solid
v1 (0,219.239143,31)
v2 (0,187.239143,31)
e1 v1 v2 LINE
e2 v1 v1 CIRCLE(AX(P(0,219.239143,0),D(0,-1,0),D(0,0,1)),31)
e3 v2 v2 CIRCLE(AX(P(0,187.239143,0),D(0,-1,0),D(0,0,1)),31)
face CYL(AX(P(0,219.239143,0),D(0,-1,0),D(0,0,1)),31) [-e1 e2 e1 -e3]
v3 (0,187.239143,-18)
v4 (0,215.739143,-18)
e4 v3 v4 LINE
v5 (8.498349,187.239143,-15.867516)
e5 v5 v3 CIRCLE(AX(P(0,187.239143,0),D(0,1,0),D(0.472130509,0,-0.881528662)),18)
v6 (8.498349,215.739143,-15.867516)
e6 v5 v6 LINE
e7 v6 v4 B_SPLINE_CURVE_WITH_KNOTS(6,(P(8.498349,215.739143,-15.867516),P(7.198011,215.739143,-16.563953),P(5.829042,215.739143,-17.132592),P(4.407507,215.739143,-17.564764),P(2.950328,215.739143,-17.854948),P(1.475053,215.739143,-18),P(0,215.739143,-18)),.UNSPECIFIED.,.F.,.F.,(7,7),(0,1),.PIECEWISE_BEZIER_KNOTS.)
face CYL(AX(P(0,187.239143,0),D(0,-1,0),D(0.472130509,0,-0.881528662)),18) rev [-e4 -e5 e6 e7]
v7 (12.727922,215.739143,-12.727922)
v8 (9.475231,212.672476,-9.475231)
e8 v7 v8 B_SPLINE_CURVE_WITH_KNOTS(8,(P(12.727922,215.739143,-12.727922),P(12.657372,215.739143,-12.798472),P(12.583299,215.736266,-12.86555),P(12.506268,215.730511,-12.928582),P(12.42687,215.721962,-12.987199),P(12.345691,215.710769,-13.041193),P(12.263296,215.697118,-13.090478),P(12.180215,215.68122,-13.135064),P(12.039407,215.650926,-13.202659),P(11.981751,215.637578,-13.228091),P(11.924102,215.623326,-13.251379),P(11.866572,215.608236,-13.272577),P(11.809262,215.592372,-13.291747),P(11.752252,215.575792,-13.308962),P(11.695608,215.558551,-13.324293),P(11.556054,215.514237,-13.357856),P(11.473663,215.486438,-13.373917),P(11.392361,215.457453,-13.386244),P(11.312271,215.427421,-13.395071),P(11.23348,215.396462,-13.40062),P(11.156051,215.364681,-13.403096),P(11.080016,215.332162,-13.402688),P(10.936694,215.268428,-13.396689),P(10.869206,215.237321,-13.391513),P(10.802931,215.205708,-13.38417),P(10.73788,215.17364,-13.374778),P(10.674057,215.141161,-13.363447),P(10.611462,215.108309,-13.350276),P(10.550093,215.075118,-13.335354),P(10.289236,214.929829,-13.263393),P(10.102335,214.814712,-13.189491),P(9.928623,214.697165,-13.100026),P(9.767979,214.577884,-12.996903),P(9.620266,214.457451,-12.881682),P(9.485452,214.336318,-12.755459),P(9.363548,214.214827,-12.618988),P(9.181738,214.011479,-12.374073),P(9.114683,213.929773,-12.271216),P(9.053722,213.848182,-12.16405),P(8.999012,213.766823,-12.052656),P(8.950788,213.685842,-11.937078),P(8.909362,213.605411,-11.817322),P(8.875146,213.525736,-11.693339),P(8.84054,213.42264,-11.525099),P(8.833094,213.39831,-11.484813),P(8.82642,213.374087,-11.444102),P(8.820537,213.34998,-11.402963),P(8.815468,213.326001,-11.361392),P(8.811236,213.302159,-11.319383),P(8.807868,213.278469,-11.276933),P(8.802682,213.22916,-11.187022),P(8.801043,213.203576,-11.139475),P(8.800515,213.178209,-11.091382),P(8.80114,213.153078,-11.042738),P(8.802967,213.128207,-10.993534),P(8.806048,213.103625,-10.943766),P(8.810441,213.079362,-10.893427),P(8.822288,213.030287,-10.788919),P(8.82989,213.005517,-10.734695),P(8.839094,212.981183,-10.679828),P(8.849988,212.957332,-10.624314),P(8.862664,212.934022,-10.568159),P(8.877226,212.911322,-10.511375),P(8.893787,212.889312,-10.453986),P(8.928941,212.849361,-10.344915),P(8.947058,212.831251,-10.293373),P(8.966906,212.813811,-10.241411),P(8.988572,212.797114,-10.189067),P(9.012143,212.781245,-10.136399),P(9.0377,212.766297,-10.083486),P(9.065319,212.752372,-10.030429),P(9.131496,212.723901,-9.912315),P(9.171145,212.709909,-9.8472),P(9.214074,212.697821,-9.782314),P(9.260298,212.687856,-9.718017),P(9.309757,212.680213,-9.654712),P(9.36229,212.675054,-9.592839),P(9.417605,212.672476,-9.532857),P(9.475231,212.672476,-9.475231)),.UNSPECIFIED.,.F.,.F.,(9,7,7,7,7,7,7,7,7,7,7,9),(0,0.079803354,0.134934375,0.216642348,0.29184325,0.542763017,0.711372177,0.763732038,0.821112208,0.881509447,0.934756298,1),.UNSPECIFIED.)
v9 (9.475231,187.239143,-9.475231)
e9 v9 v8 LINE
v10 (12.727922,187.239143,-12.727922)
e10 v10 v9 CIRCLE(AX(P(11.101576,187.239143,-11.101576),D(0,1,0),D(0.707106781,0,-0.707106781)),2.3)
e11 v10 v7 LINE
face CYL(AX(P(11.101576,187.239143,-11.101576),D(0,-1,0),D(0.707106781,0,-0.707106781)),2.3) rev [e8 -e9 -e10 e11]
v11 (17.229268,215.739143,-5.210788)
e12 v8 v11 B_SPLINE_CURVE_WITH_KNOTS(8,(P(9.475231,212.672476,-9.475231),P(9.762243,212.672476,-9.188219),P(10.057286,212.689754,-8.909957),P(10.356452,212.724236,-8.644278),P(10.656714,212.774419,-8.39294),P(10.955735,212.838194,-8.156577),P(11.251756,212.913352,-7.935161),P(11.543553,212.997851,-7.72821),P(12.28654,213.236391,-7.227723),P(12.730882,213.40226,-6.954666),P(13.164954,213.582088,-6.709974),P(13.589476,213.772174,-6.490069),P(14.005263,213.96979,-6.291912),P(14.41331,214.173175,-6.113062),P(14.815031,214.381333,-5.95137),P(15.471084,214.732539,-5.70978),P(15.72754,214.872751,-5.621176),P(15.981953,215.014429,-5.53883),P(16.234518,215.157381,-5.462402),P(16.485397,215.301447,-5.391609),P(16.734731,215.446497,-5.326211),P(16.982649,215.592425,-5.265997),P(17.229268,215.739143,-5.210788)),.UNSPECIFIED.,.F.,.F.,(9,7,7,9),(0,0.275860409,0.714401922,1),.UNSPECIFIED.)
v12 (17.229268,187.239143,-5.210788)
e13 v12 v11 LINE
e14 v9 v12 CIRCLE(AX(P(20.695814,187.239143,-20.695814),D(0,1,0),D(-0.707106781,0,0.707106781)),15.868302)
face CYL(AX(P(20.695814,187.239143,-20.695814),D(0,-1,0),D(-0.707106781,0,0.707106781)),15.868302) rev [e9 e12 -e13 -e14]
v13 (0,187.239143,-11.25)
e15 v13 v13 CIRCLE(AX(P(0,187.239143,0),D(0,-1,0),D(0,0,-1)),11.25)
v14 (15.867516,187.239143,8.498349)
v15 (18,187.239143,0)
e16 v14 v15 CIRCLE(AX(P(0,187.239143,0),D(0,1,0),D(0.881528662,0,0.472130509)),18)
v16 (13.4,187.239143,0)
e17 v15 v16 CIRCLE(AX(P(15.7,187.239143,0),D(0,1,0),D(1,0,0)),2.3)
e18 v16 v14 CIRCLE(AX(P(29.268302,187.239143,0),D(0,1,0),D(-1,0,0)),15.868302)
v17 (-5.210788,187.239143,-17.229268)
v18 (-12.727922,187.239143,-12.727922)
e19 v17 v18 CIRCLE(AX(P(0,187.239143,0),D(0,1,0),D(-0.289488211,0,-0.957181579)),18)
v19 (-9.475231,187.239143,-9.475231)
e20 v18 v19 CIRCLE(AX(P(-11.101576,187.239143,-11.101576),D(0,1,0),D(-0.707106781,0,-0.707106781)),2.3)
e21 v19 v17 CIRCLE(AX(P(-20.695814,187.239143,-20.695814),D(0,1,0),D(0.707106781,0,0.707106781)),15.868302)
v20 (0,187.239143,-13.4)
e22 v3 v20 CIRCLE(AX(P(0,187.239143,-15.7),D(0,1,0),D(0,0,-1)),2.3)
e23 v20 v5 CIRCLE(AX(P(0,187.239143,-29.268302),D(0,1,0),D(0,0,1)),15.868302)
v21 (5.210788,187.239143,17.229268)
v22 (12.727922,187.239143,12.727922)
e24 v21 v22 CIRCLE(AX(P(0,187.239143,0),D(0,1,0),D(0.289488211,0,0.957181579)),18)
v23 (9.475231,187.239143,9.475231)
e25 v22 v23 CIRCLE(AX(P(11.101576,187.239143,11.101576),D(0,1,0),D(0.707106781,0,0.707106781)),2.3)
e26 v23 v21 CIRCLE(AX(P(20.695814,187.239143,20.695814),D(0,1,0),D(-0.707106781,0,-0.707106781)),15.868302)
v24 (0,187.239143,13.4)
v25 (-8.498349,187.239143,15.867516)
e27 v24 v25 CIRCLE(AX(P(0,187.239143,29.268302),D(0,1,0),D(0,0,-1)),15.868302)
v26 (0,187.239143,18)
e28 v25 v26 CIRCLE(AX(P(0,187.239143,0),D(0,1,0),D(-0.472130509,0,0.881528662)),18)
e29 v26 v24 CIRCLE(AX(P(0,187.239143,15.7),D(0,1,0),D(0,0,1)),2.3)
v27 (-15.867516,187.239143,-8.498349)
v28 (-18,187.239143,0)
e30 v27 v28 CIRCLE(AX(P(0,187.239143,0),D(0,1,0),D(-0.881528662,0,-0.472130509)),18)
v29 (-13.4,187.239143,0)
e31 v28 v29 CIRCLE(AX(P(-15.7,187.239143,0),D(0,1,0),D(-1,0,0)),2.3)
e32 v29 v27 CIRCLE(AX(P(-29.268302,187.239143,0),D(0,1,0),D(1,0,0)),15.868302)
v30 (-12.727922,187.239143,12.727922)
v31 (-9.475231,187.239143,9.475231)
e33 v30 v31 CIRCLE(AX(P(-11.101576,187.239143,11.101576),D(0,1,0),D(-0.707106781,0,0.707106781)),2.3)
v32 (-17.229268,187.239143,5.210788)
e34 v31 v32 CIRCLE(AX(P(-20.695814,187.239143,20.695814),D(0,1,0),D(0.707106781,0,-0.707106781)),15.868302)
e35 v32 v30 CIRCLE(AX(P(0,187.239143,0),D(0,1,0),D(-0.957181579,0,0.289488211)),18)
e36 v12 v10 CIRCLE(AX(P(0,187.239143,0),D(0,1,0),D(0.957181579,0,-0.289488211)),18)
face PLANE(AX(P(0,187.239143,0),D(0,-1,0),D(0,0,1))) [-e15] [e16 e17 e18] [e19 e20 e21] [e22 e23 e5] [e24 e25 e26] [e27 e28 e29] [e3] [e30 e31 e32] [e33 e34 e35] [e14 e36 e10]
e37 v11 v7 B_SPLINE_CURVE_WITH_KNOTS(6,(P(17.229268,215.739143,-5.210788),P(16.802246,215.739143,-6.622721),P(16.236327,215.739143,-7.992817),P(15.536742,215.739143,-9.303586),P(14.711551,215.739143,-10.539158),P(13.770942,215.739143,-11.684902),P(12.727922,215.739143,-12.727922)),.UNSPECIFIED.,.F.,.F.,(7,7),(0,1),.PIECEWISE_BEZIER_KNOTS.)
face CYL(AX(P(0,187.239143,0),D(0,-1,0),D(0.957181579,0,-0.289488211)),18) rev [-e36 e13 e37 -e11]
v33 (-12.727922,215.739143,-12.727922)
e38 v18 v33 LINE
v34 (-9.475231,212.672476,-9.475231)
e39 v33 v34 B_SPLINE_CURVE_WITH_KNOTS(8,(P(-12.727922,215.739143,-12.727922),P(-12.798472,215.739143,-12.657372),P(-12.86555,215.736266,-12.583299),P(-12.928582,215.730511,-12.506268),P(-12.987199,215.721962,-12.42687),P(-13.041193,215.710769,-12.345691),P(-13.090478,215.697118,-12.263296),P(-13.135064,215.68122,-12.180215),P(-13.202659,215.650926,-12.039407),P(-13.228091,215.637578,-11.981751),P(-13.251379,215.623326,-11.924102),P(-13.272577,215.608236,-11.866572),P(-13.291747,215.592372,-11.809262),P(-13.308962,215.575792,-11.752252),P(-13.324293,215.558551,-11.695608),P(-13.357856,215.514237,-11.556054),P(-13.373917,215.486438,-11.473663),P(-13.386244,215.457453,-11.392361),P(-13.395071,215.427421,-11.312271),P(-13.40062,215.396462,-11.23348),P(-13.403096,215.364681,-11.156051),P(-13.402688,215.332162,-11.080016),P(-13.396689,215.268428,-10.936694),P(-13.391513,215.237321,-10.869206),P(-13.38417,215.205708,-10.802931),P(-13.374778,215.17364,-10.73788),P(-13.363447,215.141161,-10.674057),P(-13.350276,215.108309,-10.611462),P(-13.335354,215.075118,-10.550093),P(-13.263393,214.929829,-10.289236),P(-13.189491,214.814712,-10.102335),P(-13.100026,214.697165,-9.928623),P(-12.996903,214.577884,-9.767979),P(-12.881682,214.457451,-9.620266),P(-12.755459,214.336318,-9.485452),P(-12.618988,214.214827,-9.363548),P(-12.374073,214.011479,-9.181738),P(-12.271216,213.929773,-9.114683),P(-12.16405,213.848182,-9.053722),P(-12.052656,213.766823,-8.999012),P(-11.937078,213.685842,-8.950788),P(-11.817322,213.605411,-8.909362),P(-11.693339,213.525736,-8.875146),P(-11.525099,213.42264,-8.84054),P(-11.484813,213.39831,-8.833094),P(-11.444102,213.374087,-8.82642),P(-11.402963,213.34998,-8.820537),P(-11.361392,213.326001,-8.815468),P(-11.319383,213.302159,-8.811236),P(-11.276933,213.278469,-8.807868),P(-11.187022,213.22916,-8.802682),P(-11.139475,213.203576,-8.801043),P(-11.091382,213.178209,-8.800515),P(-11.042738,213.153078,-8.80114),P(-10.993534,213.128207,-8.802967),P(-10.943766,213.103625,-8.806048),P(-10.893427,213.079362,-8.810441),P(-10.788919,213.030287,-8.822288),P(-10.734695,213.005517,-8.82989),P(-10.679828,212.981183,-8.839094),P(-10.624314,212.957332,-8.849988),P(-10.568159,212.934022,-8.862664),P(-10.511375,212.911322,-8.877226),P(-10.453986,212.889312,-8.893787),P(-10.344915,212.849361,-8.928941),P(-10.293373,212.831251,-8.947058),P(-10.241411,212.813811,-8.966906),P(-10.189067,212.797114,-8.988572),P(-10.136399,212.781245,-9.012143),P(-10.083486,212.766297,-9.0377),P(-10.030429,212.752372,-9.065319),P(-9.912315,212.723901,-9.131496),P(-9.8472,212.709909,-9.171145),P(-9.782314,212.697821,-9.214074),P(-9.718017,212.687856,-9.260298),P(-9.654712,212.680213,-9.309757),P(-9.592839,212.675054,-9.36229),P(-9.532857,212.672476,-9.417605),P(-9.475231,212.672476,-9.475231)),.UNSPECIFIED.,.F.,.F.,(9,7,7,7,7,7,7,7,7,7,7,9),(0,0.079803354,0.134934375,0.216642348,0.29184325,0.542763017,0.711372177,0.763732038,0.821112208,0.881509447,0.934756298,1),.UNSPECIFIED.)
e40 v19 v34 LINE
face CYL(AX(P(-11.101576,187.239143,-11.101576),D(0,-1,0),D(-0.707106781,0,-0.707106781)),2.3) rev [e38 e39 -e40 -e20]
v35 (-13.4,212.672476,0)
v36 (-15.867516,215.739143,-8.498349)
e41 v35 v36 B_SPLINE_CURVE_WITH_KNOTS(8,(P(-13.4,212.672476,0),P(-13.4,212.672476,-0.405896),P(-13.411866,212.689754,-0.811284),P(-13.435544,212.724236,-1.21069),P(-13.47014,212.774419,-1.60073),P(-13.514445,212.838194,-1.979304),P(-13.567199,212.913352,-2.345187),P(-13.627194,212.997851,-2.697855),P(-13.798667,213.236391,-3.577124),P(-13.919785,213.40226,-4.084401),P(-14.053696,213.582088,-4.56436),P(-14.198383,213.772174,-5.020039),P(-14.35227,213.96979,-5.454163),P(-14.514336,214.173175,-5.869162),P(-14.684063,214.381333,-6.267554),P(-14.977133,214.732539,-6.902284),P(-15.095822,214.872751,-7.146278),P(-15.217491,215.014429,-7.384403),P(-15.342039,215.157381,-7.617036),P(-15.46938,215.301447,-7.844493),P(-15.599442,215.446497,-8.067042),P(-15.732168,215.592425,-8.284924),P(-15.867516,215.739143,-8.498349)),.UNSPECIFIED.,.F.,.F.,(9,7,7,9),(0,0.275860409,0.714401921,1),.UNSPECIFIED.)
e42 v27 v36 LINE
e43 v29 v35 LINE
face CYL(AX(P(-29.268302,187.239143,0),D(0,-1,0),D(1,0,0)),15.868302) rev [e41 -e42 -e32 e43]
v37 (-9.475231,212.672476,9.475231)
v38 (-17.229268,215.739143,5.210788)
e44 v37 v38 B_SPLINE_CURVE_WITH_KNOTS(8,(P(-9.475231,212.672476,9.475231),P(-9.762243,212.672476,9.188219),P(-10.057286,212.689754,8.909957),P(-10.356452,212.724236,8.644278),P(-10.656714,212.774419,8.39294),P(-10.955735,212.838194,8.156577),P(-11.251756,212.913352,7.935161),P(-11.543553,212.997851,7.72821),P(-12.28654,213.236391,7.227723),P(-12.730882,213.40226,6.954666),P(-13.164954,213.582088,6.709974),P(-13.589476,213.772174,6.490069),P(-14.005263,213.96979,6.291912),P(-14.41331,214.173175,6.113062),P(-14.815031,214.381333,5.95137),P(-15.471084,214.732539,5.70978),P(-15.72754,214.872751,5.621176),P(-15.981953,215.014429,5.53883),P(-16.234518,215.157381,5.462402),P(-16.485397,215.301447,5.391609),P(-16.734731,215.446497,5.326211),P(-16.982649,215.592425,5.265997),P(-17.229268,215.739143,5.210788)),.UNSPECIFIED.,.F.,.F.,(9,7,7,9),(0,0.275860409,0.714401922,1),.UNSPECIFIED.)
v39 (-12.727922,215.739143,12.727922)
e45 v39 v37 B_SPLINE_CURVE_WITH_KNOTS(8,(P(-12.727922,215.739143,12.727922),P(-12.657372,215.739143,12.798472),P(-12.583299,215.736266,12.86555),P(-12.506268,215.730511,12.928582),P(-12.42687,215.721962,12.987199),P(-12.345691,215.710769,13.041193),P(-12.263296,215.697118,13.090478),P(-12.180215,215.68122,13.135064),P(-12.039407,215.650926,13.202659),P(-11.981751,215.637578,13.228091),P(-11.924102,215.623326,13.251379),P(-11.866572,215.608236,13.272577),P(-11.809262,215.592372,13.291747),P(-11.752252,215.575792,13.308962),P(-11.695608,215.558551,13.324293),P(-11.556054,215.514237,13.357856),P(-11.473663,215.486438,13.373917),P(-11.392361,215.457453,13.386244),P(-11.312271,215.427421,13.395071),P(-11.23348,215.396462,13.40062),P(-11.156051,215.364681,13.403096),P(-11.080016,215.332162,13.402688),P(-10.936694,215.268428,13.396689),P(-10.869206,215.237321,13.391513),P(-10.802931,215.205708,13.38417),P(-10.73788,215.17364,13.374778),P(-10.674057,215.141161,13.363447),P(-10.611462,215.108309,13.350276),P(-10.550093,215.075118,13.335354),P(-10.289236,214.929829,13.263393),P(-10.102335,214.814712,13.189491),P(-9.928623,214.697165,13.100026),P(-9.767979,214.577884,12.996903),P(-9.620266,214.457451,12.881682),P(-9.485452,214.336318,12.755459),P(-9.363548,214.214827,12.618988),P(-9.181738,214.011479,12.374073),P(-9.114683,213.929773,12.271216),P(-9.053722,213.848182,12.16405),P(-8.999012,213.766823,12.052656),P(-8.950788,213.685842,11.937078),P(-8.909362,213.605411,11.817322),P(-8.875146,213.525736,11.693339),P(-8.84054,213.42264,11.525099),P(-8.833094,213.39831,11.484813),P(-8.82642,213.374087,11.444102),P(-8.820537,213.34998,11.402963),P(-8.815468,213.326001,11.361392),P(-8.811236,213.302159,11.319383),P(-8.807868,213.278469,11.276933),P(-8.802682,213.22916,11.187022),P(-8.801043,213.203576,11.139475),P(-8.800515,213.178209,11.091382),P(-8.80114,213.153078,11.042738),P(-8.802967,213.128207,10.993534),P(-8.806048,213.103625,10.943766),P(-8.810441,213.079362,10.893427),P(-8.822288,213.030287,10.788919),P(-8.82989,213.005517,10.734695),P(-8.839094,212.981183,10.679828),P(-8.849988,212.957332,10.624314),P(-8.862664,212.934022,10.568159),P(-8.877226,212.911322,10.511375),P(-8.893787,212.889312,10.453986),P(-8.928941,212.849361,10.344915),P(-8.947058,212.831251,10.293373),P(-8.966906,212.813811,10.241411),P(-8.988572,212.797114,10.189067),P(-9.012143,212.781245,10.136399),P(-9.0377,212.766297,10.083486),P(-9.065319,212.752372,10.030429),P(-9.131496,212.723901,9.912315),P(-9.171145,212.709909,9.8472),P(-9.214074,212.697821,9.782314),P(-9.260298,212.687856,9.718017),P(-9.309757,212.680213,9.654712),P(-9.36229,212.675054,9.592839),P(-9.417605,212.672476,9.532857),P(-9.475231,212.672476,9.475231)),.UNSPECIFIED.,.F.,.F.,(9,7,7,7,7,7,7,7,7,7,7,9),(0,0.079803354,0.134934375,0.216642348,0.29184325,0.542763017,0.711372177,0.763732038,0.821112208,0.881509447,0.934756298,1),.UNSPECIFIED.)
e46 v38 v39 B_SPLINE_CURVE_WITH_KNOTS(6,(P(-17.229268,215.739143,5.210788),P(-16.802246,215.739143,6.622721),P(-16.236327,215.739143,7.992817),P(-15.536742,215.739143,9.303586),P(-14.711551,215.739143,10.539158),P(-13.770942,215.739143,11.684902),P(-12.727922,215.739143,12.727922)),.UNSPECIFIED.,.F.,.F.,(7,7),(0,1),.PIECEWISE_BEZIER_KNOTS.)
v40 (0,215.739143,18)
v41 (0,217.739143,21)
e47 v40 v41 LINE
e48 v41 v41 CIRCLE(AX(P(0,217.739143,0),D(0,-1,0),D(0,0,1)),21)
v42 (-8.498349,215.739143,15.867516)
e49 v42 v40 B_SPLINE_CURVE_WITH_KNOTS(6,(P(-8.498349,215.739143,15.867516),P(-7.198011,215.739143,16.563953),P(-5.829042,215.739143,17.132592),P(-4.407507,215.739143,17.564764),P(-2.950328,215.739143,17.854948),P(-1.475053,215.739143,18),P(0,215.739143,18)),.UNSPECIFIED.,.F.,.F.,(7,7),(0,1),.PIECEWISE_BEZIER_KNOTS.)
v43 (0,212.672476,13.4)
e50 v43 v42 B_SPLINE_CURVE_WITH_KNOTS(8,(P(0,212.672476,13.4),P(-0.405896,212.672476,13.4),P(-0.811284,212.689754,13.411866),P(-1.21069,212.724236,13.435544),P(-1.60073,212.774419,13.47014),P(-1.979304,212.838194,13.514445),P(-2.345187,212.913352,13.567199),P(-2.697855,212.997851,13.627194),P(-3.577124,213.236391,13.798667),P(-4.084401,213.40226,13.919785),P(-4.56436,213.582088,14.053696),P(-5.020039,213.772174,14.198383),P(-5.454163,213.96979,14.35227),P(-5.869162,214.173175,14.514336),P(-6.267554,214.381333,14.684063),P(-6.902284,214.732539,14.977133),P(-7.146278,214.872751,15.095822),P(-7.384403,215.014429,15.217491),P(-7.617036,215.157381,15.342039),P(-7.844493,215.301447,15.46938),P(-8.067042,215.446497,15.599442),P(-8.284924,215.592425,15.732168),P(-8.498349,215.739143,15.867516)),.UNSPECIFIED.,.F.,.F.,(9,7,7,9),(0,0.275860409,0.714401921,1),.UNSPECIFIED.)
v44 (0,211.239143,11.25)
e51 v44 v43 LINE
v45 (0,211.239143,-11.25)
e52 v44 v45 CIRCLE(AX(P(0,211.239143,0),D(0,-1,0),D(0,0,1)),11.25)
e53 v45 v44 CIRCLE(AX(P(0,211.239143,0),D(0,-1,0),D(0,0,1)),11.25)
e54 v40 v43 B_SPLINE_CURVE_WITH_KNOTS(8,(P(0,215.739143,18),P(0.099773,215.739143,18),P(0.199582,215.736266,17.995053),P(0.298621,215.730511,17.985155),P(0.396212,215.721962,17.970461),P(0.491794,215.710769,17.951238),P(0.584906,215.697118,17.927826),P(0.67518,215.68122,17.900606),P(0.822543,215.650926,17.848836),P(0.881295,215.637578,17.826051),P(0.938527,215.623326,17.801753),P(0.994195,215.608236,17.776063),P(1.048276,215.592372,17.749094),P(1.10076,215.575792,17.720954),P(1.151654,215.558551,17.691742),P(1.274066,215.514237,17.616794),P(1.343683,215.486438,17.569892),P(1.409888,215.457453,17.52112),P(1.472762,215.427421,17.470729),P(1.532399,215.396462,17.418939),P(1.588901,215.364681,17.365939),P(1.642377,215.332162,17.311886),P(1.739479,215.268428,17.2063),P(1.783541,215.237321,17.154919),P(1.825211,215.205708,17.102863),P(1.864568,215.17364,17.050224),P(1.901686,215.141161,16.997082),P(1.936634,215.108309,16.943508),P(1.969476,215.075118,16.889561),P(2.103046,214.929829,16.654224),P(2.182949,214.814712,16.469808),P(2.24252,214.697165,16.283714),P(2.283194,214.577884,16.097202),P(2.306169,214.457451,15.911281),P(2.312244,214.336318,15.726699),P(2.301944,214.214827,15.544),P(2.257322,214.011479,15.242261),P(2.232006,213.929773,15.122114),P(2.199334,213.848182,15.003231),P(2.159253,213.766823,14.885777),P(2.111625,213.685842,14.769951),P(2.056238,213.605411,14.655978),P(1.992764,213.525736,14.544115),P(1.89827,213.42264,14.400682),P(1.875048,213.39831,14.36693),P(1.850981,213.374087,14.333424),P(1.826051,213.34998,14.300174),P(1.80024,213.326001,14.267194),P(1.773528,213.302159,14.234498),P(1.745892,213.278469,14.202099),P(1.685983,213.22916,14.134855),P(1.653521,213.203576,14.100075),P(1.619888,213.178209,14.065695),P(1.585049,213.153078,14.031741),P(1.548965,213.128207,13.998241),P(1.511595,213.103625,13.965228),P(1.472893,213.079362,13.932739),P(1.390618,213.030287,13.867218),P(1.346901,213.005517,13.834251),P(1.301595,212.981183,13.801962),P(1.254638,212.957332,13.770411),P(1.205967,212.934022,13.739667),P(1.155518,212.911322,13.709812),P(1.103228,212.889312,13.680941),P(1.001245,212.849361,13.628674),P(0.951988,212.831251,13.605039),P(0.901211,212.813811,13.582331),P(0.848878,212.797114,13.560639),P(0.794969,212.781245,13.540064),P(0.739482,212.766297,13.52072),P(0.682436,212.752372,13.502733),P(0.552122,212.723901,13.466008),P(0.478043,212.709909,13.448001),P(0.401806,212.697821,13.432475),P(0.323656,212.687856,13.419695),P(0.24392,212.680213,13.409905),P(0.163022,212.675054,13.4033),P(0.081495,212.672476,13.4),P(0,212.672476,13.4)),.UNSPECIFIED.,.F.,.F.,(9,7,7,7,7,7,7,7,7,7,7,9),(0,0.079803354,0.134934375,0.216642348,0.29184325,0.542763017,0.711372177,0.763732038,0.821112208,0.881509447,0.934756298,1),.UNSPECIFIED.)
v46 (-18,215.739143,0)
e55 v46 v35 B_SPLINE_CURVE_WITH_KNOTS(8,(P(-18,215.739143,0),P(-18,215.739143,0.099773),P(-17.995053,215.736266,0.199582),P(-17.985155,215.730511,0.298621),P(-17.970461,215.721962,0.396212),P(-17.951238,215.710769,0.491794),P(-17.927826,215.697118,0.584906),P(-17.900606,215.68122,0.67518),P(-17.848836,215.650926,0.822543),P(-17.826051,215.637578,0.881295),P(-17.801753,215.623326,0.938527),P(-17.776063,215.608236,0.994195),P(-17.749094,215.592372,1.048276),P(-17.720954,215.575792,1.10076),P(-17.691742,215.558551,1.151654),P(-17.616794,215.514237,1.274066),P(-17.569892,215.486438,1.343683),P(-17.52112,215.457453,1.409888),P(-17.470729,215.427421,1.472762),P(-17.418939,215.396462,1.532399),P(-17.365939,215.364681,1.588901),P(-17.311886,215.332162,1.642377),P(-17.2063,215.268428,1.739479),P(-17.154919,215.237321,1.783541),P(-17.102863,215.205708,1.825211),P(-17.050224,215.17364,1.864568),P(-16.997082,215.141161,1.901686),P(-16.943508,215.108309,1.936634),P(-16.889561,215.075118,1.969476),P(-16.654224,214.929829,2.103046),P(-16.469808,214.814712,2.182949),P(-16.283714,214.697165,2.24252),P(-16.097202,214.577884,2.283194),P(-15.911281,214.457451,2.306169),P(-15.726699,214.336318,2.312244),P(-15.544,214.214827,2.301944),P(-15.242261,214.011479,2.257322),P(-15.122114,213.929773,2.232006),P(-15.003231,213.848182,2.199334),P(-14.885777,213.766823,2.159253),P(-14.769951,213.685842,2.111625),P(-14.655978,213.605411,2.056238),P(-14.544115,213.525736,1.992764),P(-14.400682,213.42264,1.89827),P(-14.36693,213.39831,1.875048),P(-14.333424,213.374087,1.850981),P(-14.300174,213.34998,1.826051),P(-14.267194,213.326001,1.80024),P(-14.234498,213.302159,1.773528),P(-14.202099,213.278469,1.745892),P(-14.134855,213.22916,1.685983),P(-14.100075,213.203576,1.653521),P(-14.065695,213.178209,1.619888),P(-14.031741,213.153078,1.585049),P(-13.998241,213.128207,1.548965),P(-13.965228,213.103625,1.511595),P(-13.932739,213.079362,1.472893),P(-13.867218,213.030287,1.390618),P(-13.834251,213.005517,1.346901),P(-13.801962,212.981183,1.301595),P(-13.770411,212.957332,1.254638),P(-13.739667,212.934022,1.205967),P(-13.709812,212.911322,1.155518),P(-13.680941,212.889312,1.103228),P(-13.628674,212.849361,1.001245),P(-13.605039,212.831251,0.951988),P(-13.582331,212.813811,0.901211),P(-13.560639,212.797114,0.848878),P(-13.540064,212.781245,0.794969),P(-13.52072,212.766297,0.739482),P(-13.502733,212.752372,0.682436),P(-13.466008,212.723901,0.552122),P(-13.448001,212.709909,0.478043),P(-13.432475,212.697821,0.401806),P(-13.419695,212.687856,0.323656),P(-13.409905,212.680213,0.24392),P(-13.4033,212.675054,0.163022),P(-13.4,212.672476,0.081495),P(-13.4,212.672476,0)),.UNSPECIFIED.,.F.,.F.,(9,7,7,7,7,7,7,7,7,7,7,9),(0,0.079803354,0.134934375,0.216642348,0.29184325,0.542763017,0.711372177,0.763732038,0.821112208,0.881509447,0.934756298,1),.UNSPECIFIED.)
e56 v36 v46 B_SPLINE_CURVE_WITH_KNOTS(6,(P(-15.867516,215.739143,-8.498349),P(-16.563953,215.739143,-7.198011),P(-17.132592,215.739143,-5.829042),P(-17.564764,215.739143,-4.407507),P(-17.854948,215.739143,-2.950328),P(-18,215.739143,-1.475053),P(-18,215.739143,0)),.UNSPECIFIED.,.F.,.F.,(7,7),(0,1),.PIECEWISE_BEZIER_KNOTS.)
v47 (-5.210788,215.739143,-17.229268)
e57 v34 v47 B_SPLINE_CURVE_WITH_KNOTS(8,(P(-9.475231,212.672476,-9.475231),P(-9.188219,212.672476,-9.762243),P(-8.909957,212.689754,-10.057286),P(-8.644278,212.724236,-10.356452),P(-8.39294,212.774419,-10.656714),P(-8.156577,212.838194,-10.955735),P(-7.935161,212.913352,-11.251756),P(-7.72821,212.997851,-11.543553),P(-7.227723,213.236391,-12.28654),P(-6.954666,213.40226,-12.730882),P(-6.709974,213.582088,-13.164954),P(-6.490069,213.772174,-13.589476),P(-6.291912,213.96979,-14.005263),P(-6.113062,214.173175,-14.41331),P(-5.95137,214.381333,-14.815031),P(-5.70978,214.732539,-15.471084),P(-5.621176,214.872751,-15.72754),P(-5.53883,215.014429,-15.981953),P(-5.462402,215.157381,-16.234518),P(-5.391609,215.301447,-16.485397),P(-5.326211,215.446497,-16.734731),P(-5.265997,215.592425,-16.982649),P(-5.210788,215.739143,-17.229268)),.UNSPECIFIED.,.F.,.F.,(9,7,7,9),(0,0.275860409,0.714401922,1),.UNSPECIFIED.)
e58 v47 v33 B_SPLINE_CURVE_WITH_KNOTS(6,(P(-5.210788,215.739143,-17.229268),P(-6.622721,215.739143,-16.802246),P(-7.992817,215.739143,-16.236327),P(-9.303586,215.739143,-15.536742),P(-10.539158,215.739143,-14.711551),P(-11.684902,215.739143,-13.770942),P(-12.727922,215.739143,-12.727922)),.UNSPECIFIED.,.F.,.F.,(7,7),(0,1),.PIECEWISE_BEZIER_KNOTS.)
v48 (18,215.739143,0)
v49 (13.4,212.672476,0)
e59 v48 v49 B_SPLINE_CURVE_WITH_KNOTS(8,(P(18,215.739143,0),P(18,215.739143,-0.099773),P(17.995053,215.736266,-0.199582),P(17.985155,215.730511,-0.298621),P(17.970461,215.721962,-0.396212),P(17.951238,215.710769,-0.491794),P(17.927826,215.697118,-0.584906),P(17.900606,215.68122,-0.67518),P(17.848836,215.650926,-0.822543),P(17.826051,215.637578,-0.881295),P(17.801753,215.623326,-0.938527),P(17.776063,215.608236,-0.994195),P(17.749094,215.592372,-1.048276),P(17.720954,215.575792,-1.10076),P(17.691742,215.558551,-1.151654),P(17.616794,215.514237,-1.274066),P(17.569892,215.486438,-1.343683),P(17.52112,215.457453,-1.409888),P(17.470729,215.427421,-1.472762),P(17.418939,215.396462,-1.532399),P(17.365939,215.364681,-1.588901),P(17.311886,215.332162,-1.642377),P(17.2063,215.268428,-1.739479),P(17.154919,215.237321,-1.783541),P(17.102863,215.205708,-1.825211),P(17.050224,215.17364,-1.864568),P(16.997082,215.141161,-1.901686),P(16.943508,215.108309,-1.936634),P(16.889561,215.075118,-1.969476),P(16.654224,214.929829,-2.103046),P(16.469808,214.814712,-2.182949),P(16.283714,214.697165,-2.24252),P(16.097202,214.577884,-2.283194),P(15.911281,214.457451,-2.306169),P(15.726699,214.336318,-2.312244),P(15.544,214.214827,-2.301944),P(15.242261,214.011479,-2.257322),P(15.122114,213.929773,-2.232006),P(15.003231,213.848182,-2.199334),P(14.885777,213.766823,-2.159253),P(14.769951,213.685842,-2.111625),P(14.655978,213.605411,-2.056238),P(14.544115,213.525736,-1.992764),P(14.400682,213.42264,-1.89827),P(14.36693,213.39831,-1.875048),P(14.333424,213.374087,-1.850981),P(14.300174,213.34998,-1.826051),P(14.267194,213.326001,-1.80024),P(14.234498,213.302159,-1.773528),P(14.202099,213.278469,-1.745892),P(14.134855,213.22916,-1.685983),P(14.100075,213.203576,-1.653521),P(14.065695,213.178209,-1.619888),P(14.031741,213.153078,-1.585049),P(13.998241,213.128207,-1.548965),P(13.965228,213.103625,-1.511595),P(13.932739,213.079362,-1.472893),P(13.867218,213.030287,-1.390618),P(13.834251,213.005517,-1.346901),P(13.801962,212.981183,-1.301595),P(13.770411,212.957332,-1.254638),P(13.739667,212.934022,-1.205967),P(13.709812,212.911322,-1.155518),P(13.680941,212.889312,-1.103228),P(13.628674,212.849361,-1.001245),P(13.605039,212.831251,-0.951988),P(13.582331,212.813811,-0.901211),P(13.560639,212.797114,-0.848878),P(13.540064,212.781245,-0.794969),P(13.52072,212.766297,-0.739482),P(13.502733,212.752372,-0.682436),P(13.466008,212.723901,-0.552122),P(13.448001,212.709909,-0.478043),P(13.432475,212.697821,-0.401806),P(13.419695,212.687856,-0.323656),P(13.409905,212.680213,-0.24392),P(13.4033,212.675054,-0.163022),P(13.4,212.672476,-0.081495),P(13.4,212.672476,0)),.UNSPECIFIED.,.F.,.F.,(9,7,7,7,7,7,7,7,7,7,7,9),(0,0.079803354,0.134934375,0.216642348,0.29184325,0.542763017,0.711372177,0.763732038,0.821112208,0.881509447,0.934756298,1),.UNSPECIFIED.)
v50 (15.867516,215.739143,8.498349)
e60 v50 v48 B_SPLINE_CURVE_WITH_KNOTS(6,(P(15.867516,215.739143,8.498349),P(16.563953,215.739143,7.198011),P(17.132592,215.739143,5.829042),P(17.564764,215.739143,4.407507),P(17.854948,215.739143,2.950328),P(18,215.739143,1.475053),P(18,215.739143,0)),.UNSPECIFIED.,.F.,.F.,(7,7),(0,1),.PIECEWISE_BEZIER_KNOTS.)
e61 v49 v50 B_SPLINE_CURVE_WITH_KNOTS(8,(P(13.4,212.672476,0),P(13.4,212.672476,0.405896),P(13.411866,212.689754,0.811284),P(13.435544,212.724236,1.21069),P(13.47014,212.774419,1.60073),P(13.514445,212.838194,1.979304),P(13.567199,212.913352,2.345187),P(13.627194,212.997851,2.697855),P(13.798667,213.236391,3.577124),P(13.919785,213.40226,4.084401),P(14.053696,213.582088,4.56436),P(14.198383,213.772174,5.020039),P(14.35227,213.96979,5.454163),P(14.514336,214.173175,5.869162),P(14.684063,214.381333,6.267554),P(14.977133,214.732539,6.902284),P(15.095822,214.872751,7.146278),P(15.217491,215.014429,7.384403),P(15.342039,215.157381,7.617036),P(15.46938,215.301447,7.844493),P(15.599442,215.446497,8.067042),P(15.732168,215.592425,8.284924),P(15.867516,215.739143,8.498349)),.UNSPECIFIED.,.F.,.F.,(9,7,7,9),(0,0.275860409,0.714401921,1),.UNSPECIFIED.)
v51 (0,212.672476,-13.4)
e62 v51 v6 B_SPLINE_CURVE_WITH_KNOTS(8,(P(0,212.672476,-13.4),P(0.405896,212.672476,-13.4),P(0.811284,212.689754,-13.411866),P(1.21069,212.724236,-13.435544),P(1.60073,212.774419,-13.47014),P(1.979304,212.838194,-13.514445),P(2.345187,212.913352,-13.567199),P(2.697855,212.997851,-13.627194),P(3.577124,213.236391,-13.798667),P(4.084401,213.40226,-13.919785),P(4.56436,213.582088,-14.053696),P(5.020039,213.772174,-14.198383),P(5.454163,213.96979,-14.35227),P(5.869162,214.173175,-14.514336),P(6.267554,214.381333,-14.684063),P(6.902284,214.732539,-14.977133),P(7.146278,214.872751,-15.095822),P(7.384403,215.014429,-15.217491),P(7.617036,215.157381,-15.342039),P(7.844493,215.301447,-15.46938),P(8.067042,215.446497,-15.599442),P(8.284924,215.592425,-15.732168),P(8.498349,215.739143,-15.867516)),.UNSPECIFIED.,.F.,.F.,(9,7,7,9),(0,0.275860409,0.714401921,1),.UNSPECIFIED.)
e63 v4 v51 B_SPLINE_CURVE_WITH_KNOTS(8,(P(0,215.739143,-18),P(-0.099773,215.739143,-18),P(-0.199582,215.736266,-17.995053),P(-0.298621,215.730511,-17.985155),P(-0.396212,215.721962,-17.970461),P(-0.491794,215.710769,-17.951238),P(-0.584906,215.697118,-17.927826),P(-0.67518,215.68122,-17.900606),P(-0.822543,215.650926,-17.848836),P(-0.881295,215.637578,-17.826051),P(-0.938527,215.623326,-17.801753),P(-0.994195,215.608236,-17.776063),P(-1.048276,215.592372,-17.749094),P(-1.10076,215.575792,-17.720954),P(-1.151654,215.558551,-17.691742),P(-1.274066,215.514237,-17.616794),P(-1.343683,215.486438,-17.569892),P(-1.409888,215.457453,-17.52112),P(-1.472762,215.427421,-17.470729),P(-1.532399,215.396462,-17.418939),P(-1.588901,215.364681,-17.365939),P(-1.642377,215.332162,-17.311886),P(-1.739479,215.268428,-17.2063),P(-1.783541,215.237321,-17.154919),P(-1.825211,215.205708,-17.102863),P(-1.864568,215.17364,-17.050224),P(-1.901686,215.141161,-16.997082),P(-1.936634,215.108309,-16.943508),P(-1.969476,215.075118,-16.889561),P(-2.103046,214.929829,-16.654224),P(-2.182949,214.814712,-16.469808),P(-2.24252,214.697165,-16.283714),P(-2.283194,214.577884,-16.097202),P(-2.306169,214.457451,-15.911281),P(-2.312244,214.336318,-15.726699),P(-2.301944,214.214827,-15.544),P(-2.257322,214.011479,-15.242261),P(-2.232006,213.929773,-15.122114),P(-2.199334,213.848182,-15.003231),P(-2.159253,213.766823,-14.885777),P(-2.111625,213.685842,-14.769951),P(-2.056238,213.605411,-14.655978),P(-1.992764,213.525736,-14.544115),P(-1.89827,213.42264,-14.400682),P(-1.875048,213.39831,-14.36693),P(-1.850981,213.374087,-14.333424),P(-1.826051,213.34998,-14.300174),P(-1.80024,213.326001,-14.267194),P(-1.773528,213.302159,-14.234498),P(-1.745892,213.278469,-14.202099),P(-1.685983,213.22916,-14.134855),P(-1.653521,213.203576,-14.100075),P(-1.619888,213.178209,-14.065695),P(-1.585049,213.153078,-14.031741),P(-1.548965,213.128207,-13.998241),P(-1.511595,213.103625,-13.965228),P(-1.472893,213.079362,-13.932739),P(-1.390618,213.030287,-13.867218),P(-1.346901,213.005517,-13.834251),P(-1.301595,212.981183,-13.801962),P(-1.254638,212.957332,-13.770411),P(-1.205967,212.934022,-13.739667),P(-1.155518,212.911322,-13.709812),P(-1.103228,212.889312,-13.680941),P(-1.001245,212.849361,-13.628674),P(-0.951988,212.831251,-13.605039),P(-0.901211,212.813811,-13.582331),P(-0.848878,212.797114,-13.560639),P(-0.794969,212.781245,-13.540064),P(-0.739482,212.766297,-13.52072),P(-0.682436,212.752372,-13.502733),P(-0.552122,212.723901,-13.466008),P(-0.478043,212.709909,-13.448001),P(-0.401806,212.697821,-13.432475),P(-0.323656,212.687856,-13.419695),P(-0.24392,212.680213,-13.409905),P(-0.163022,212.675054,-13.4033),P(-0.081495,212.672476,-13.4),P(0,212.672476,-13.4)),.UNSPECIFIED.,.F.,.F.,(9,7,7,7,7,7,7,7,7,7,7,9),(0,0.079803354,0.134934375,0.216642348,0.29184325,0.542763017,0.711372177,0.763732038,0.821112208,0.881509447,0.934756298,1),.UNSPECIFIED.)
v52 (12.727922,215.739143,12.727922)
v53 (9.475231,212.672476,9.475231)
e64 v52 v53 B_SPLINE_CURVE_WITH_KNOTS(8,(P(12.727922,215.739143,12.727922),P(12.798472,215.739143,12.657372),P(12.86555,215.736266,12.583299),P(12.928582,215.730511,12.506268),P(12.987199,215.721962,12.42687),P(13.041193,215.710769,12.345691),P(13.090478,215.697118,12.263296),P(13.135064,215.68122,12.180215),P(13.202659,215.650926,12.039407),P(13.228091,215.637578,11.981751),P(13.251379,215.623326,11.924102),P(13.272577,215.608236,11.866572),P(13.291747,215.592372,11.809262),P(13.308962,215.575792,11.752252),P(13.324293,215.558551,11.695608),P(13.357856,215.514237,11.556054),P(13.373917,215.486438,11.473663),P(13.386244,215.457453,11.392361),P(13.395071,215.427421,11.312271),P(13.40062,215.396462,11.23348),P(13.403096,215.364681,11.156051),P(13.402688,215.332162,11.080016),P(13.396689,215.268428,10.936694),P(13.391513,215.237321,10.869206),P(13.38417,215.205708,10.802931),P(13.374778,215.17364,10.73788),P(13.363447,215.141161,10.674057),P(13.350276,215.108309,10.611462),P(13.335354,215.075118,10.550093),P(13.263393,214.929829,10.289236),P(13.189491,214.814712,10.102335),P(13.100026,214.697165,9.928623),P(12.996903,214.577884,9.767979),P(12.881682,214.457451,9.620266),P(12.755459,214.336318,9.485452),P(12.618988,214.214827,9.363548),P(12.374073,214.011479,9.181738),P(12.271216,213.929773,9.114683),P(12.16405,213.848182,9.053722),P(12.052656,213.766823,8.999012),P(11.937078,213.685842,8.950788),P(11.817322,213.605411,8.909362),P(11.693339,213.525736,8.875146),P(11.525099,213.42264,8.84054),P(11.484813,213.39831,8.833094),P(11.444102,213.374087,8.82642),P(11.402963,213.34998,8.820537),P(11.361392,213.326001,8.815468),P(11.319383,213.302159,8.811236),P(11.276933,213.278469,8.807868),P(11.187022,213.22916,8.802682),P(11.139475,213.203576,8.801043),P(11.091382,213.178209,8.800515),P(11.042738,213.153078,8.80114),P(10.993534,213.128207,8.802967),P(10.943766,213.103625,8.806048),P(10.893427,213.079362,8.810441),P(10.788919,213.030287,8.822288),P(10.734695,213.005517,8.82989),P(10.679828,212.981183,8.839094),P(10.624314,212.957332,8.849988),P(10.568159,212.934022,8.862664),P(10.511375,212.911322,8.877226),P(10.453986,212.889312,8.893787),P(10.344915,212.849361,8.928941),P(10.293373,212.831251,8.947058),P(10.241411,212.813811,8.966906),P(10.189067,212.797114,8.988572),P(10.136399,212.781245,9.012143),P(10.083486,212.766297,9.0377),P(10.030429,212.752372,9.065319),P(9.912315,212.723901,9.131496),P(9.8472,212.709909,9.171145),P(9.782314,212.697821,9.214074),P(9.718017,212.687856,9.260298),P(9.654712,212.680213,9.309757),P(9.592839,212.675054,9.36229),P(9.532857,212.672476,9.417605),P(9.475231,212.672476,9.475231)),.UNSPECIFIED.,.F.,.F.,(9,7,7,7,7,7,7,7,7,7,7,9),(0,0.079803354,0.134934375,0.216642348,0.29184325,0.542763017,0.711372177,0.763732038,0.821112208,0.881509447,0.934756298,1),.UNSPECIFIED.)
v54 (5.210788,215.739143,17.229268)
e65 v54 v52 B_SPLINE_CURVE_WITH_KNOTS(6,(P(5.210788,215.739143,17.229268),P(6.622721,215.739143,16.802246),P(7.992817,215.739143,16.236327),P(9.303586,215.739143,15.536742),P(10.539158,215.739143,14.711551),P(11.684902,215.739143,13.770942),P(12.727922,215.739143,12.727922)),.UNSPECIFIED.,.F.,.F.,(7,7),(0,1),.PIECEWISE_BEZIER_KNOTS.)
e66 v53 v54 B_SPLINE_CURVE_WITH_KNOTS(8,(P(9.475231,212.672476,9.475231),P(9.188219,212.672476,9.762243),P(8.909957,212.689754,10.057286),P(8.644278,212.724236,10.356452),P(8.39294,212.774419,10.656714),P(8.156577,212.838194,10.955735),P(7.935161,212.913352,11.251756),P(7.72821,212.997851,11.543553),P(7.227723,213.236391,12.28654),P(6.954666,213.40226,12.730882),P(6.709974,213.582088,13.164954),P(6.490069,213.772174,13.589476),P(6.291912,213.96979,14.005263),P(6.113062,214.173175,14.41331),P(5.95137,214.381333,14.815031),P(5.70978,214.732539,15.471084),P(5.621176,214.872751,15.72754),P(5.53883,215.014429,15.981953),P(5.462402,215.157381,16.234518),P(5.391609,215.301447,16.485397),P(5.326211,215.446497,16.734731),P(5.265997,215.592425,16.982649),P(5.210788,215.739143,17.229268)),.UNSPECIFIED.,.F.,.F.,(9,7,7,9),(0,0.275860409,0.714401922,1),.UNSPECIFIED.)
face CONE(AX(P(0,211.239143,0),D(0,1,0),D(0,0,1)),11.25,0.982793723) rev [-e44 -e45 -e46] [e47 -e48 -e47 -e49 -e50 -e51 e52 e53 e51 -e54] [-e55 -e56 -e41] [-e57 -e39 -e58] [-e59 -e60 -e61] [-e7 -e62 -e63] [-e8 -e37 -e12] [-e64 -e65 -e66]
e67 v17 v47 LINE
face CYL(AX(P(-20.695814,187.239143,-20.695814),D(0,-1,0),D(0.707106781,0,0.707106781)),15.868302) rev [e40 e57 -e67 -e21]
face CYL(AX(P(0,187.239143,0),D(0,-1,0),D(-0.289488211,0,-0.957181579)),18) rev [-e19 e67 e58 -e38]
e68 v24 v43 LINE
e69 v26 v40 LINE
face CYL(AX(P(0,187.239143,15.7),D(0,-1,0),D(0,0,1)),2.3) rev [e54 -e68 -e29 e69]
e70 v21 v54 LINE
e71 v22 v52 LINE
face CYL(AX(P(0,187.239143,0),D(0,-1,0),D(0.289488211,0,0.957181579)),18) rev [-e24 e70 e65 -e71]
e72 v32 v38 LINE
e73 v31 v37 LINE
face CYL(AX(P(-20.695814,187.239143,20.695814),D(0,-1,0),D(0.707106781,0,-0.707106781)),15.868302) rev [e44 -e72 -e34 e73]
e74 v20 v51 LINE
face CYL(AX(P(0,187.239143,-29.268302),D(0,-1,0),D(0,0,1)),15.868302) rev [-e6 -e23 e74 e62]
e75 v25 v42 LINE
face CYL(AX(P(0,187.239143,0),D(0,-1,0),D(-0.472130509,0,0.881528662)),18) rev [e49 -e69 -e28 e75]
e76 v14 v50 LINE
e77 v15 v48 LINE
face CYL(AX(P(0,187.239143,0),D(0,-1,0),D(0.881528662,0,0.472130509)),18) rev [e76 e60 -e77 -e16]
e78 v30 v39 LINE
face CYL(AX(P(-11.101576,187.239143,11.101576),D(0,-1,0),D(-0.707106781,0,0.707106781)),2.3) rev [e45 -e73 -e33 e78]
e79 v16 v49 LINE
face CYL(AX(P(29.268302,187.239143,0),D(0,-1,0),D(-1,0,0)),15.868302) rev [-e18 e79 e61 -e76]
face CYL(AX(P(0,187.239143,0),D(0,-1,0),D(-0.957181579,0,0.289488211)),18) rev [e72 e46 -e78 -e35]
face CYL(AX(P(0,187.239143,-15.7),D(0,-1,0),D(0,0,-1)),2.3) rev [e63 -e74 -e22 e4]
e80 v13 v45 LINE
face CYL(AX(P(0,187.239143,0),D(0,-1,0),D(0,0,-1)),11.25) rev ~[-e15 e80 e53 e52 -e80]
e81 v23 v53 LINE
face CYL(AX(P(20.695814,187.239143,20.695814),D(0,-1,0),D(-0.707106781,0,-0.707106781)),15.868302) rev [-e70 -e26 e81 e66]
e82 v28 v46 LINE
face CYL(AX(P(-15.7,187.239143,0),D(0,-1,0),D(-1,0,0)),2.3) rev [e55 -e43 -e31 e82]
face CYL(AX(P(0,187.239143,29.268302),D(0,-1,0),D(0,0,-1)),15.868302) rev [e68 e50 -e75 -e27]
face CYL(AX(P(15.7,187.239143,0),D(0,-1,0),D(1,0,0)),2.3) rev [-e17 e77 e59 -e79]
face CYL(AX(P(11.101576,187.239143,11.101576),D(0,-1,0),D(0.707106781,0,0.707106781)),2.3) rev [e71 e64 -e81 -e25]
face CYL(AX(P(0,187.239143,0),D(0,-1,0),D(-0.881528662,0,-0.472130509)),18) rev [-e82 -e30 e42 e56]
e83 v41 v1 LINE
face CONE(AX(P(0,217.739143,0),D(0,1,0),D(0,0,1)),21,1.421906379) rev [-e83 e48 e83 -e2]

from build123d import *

# Parameters (mm, degrees)
SKETCH_5_R          = 4
CUT_EXTRUDE_1_DEPTH = 55.27706698
CUT_EXTRUDE_2_DEPTH = 55.27706698
SKETCH_8_R          = 11.25
CUT_EXTRUDE_3_DEPTH = 55.27706698


with BuildPart() as part:
    # 草图3 → 旋转1 (revolve)
    with BuildSketch(Plane(origin=(0, 0, 0), x_dir=(0, 0, -1), z_dir=(1, 0, 0)), mode=Mode.PRIVATE) as revolve_1_sk:
        Polygon((0, 211.239142824), (11.25, 211.239142824), (21, 217.739142824), (31, 219.239142824), (31, 187.239142824), (0, 187.239142824), align=None)
    revolve(revolve_1_sk.sketch.rotate(Axis((0, 291.944884017, 0), (0, -1, 0)), 180), axis=Axis((0, 291.944884017, 0), (0, -1, 0)))

    # 草图5 → 切除-拉伸1 (cut, through all)
    with BuildSketch(Plane.XZ.offset(-187.239142824)):
        with Locations(Location((0, 0, 0), (0, 0, 270))):
            Circle(SKETCH_5_R)
    extrude(amount=-CUT_EXTRUDE_1_DEPTH, mode=Mode.SUBTRACT)

    # 草图6 → 切除-拉伸2 (cut, through all)
    with BuildSketch(Plane.XZ.offset(-187.239142824)):
        with BuildLine():
            ThreePointArc((-12.727922061, 12.727922061), (-9.475230868, 12.727922061), (-9.475230868, 9.475230868))
            ThreePointArc((-9.475230868, 9.475230868), (-13.048964597, 6.79154607), (-17.229268429, 5.210787791))
            ThreePointArc((-17.229268429, 5.210787791), (-15.442964172, 9.247424375), (-12.727922061, 12.727922061))
        make_face()
        with BuildLine():
            ThreePointArc((0, 18), (2.3, 15.7), (0, 13.4))
            ThreePointArc((0, 13.4), (-4.424663073, 14.029359635), (-8.498349158, 15.867515924))
            ThreePointArc((-8.498349158, 15.867515924), (-4.380908204, 17.458741172), (0, 18))
        make_face()
        with BuildLine():
            ThreePointArc((12.727922061, 12.727922061), (12.727922061, 9.475230868), (9.475230868, 9.475230868))
            ThreePointArc((9.475230868, 9.475230868), (6.79154607, 13.048964597), (5.210787791, 17.229268429))
            ThreePointArc((5.210787791, 17.229268429), (9.247424375, 15.442964172), (12.727922061, 12.727922061))
        make_face()
        with BuildLine():
            ThreePointArc((18, 0), (15.7, -2.3), (13.4, 0))
            ThreePointArc((13.4, 0), (14.029359635, 4.424663073), (15.867515924, 8.498349158))
            ThreePointArc((15.867515924, 8.498349158), (17.458741172, 4.380908204), (18, 0))
        make_face()
        with BuildLine():
            ThreePointArc((12.727922061, -12.727922061), (9.475230868, -12.727922061), (9.475230868, -9.475230868))
            ThreePointArc((9.475230868, -9.475230868), (13.048964597, -6.79154607), (17.229268429, -5.210787791))
            ThreePointArc((17.229268429, -5.210787791), (15.442964172, -9.247424375), (12.727922061, -12.727922061))
        make_face()
        with BuildLine():
            ThreePointArc((0, -18), (-2.3, -15.7), (0, -13.4))
            ThreePointArc((0, -13.4), (4.424663073, -14.029359635), (8.498349158, -15.867515924))
            ThreePointArc((8.498349158, -15.867515924), (4.380908204, -17.458741172), (0, -18))
        make_face()
        with BuildLine():
            ThreePointArc((-12.727922061, -12.727922061), (-12.727922061, -9.475230868), (-9.475230868, -9.475230868))
            ThreePointArc((-9.475230868, -9.475230868), (-6.79154607, -13.048964597), (-5.210787791, -17.229268429))
            ThreePointArc((-5.210787791, -17.229268429), (-9.247424375, -15.442964172), (-12.727922061, -12.727922061))
        make_face()
        with BuildLine():
            ThreePointArc((-13.4, 0), (-14.029359635, -4.424663073), (-15.867515924, -8.498349158))
            ThreePointArc((-15.867515924, -8.498349158), (-17.458741172, -4.380908204), (-18, 0))
            ThreePointArc((-18, 0), (-15.7, 2.3), (-13.4, 0))
        make_face()
    extrude(amount=-CUT_EXTRUDE_2_DEPTH, mode=Mode.SUBTRACT)

    # 草图8 → 切除-拉伸3 (cut, through all)
    with BuildSketch(Plane.XZ.offset(-187.239142824)):
        with Locations(Location((0, 0, 0), (0, 0, 270))):
            Circle(SKETCH_8_R)
    extrude(amount=-CUT_EXTRUDE_3_DEPTH, mode=Mode.SUBTRACT)


solid = part.part
